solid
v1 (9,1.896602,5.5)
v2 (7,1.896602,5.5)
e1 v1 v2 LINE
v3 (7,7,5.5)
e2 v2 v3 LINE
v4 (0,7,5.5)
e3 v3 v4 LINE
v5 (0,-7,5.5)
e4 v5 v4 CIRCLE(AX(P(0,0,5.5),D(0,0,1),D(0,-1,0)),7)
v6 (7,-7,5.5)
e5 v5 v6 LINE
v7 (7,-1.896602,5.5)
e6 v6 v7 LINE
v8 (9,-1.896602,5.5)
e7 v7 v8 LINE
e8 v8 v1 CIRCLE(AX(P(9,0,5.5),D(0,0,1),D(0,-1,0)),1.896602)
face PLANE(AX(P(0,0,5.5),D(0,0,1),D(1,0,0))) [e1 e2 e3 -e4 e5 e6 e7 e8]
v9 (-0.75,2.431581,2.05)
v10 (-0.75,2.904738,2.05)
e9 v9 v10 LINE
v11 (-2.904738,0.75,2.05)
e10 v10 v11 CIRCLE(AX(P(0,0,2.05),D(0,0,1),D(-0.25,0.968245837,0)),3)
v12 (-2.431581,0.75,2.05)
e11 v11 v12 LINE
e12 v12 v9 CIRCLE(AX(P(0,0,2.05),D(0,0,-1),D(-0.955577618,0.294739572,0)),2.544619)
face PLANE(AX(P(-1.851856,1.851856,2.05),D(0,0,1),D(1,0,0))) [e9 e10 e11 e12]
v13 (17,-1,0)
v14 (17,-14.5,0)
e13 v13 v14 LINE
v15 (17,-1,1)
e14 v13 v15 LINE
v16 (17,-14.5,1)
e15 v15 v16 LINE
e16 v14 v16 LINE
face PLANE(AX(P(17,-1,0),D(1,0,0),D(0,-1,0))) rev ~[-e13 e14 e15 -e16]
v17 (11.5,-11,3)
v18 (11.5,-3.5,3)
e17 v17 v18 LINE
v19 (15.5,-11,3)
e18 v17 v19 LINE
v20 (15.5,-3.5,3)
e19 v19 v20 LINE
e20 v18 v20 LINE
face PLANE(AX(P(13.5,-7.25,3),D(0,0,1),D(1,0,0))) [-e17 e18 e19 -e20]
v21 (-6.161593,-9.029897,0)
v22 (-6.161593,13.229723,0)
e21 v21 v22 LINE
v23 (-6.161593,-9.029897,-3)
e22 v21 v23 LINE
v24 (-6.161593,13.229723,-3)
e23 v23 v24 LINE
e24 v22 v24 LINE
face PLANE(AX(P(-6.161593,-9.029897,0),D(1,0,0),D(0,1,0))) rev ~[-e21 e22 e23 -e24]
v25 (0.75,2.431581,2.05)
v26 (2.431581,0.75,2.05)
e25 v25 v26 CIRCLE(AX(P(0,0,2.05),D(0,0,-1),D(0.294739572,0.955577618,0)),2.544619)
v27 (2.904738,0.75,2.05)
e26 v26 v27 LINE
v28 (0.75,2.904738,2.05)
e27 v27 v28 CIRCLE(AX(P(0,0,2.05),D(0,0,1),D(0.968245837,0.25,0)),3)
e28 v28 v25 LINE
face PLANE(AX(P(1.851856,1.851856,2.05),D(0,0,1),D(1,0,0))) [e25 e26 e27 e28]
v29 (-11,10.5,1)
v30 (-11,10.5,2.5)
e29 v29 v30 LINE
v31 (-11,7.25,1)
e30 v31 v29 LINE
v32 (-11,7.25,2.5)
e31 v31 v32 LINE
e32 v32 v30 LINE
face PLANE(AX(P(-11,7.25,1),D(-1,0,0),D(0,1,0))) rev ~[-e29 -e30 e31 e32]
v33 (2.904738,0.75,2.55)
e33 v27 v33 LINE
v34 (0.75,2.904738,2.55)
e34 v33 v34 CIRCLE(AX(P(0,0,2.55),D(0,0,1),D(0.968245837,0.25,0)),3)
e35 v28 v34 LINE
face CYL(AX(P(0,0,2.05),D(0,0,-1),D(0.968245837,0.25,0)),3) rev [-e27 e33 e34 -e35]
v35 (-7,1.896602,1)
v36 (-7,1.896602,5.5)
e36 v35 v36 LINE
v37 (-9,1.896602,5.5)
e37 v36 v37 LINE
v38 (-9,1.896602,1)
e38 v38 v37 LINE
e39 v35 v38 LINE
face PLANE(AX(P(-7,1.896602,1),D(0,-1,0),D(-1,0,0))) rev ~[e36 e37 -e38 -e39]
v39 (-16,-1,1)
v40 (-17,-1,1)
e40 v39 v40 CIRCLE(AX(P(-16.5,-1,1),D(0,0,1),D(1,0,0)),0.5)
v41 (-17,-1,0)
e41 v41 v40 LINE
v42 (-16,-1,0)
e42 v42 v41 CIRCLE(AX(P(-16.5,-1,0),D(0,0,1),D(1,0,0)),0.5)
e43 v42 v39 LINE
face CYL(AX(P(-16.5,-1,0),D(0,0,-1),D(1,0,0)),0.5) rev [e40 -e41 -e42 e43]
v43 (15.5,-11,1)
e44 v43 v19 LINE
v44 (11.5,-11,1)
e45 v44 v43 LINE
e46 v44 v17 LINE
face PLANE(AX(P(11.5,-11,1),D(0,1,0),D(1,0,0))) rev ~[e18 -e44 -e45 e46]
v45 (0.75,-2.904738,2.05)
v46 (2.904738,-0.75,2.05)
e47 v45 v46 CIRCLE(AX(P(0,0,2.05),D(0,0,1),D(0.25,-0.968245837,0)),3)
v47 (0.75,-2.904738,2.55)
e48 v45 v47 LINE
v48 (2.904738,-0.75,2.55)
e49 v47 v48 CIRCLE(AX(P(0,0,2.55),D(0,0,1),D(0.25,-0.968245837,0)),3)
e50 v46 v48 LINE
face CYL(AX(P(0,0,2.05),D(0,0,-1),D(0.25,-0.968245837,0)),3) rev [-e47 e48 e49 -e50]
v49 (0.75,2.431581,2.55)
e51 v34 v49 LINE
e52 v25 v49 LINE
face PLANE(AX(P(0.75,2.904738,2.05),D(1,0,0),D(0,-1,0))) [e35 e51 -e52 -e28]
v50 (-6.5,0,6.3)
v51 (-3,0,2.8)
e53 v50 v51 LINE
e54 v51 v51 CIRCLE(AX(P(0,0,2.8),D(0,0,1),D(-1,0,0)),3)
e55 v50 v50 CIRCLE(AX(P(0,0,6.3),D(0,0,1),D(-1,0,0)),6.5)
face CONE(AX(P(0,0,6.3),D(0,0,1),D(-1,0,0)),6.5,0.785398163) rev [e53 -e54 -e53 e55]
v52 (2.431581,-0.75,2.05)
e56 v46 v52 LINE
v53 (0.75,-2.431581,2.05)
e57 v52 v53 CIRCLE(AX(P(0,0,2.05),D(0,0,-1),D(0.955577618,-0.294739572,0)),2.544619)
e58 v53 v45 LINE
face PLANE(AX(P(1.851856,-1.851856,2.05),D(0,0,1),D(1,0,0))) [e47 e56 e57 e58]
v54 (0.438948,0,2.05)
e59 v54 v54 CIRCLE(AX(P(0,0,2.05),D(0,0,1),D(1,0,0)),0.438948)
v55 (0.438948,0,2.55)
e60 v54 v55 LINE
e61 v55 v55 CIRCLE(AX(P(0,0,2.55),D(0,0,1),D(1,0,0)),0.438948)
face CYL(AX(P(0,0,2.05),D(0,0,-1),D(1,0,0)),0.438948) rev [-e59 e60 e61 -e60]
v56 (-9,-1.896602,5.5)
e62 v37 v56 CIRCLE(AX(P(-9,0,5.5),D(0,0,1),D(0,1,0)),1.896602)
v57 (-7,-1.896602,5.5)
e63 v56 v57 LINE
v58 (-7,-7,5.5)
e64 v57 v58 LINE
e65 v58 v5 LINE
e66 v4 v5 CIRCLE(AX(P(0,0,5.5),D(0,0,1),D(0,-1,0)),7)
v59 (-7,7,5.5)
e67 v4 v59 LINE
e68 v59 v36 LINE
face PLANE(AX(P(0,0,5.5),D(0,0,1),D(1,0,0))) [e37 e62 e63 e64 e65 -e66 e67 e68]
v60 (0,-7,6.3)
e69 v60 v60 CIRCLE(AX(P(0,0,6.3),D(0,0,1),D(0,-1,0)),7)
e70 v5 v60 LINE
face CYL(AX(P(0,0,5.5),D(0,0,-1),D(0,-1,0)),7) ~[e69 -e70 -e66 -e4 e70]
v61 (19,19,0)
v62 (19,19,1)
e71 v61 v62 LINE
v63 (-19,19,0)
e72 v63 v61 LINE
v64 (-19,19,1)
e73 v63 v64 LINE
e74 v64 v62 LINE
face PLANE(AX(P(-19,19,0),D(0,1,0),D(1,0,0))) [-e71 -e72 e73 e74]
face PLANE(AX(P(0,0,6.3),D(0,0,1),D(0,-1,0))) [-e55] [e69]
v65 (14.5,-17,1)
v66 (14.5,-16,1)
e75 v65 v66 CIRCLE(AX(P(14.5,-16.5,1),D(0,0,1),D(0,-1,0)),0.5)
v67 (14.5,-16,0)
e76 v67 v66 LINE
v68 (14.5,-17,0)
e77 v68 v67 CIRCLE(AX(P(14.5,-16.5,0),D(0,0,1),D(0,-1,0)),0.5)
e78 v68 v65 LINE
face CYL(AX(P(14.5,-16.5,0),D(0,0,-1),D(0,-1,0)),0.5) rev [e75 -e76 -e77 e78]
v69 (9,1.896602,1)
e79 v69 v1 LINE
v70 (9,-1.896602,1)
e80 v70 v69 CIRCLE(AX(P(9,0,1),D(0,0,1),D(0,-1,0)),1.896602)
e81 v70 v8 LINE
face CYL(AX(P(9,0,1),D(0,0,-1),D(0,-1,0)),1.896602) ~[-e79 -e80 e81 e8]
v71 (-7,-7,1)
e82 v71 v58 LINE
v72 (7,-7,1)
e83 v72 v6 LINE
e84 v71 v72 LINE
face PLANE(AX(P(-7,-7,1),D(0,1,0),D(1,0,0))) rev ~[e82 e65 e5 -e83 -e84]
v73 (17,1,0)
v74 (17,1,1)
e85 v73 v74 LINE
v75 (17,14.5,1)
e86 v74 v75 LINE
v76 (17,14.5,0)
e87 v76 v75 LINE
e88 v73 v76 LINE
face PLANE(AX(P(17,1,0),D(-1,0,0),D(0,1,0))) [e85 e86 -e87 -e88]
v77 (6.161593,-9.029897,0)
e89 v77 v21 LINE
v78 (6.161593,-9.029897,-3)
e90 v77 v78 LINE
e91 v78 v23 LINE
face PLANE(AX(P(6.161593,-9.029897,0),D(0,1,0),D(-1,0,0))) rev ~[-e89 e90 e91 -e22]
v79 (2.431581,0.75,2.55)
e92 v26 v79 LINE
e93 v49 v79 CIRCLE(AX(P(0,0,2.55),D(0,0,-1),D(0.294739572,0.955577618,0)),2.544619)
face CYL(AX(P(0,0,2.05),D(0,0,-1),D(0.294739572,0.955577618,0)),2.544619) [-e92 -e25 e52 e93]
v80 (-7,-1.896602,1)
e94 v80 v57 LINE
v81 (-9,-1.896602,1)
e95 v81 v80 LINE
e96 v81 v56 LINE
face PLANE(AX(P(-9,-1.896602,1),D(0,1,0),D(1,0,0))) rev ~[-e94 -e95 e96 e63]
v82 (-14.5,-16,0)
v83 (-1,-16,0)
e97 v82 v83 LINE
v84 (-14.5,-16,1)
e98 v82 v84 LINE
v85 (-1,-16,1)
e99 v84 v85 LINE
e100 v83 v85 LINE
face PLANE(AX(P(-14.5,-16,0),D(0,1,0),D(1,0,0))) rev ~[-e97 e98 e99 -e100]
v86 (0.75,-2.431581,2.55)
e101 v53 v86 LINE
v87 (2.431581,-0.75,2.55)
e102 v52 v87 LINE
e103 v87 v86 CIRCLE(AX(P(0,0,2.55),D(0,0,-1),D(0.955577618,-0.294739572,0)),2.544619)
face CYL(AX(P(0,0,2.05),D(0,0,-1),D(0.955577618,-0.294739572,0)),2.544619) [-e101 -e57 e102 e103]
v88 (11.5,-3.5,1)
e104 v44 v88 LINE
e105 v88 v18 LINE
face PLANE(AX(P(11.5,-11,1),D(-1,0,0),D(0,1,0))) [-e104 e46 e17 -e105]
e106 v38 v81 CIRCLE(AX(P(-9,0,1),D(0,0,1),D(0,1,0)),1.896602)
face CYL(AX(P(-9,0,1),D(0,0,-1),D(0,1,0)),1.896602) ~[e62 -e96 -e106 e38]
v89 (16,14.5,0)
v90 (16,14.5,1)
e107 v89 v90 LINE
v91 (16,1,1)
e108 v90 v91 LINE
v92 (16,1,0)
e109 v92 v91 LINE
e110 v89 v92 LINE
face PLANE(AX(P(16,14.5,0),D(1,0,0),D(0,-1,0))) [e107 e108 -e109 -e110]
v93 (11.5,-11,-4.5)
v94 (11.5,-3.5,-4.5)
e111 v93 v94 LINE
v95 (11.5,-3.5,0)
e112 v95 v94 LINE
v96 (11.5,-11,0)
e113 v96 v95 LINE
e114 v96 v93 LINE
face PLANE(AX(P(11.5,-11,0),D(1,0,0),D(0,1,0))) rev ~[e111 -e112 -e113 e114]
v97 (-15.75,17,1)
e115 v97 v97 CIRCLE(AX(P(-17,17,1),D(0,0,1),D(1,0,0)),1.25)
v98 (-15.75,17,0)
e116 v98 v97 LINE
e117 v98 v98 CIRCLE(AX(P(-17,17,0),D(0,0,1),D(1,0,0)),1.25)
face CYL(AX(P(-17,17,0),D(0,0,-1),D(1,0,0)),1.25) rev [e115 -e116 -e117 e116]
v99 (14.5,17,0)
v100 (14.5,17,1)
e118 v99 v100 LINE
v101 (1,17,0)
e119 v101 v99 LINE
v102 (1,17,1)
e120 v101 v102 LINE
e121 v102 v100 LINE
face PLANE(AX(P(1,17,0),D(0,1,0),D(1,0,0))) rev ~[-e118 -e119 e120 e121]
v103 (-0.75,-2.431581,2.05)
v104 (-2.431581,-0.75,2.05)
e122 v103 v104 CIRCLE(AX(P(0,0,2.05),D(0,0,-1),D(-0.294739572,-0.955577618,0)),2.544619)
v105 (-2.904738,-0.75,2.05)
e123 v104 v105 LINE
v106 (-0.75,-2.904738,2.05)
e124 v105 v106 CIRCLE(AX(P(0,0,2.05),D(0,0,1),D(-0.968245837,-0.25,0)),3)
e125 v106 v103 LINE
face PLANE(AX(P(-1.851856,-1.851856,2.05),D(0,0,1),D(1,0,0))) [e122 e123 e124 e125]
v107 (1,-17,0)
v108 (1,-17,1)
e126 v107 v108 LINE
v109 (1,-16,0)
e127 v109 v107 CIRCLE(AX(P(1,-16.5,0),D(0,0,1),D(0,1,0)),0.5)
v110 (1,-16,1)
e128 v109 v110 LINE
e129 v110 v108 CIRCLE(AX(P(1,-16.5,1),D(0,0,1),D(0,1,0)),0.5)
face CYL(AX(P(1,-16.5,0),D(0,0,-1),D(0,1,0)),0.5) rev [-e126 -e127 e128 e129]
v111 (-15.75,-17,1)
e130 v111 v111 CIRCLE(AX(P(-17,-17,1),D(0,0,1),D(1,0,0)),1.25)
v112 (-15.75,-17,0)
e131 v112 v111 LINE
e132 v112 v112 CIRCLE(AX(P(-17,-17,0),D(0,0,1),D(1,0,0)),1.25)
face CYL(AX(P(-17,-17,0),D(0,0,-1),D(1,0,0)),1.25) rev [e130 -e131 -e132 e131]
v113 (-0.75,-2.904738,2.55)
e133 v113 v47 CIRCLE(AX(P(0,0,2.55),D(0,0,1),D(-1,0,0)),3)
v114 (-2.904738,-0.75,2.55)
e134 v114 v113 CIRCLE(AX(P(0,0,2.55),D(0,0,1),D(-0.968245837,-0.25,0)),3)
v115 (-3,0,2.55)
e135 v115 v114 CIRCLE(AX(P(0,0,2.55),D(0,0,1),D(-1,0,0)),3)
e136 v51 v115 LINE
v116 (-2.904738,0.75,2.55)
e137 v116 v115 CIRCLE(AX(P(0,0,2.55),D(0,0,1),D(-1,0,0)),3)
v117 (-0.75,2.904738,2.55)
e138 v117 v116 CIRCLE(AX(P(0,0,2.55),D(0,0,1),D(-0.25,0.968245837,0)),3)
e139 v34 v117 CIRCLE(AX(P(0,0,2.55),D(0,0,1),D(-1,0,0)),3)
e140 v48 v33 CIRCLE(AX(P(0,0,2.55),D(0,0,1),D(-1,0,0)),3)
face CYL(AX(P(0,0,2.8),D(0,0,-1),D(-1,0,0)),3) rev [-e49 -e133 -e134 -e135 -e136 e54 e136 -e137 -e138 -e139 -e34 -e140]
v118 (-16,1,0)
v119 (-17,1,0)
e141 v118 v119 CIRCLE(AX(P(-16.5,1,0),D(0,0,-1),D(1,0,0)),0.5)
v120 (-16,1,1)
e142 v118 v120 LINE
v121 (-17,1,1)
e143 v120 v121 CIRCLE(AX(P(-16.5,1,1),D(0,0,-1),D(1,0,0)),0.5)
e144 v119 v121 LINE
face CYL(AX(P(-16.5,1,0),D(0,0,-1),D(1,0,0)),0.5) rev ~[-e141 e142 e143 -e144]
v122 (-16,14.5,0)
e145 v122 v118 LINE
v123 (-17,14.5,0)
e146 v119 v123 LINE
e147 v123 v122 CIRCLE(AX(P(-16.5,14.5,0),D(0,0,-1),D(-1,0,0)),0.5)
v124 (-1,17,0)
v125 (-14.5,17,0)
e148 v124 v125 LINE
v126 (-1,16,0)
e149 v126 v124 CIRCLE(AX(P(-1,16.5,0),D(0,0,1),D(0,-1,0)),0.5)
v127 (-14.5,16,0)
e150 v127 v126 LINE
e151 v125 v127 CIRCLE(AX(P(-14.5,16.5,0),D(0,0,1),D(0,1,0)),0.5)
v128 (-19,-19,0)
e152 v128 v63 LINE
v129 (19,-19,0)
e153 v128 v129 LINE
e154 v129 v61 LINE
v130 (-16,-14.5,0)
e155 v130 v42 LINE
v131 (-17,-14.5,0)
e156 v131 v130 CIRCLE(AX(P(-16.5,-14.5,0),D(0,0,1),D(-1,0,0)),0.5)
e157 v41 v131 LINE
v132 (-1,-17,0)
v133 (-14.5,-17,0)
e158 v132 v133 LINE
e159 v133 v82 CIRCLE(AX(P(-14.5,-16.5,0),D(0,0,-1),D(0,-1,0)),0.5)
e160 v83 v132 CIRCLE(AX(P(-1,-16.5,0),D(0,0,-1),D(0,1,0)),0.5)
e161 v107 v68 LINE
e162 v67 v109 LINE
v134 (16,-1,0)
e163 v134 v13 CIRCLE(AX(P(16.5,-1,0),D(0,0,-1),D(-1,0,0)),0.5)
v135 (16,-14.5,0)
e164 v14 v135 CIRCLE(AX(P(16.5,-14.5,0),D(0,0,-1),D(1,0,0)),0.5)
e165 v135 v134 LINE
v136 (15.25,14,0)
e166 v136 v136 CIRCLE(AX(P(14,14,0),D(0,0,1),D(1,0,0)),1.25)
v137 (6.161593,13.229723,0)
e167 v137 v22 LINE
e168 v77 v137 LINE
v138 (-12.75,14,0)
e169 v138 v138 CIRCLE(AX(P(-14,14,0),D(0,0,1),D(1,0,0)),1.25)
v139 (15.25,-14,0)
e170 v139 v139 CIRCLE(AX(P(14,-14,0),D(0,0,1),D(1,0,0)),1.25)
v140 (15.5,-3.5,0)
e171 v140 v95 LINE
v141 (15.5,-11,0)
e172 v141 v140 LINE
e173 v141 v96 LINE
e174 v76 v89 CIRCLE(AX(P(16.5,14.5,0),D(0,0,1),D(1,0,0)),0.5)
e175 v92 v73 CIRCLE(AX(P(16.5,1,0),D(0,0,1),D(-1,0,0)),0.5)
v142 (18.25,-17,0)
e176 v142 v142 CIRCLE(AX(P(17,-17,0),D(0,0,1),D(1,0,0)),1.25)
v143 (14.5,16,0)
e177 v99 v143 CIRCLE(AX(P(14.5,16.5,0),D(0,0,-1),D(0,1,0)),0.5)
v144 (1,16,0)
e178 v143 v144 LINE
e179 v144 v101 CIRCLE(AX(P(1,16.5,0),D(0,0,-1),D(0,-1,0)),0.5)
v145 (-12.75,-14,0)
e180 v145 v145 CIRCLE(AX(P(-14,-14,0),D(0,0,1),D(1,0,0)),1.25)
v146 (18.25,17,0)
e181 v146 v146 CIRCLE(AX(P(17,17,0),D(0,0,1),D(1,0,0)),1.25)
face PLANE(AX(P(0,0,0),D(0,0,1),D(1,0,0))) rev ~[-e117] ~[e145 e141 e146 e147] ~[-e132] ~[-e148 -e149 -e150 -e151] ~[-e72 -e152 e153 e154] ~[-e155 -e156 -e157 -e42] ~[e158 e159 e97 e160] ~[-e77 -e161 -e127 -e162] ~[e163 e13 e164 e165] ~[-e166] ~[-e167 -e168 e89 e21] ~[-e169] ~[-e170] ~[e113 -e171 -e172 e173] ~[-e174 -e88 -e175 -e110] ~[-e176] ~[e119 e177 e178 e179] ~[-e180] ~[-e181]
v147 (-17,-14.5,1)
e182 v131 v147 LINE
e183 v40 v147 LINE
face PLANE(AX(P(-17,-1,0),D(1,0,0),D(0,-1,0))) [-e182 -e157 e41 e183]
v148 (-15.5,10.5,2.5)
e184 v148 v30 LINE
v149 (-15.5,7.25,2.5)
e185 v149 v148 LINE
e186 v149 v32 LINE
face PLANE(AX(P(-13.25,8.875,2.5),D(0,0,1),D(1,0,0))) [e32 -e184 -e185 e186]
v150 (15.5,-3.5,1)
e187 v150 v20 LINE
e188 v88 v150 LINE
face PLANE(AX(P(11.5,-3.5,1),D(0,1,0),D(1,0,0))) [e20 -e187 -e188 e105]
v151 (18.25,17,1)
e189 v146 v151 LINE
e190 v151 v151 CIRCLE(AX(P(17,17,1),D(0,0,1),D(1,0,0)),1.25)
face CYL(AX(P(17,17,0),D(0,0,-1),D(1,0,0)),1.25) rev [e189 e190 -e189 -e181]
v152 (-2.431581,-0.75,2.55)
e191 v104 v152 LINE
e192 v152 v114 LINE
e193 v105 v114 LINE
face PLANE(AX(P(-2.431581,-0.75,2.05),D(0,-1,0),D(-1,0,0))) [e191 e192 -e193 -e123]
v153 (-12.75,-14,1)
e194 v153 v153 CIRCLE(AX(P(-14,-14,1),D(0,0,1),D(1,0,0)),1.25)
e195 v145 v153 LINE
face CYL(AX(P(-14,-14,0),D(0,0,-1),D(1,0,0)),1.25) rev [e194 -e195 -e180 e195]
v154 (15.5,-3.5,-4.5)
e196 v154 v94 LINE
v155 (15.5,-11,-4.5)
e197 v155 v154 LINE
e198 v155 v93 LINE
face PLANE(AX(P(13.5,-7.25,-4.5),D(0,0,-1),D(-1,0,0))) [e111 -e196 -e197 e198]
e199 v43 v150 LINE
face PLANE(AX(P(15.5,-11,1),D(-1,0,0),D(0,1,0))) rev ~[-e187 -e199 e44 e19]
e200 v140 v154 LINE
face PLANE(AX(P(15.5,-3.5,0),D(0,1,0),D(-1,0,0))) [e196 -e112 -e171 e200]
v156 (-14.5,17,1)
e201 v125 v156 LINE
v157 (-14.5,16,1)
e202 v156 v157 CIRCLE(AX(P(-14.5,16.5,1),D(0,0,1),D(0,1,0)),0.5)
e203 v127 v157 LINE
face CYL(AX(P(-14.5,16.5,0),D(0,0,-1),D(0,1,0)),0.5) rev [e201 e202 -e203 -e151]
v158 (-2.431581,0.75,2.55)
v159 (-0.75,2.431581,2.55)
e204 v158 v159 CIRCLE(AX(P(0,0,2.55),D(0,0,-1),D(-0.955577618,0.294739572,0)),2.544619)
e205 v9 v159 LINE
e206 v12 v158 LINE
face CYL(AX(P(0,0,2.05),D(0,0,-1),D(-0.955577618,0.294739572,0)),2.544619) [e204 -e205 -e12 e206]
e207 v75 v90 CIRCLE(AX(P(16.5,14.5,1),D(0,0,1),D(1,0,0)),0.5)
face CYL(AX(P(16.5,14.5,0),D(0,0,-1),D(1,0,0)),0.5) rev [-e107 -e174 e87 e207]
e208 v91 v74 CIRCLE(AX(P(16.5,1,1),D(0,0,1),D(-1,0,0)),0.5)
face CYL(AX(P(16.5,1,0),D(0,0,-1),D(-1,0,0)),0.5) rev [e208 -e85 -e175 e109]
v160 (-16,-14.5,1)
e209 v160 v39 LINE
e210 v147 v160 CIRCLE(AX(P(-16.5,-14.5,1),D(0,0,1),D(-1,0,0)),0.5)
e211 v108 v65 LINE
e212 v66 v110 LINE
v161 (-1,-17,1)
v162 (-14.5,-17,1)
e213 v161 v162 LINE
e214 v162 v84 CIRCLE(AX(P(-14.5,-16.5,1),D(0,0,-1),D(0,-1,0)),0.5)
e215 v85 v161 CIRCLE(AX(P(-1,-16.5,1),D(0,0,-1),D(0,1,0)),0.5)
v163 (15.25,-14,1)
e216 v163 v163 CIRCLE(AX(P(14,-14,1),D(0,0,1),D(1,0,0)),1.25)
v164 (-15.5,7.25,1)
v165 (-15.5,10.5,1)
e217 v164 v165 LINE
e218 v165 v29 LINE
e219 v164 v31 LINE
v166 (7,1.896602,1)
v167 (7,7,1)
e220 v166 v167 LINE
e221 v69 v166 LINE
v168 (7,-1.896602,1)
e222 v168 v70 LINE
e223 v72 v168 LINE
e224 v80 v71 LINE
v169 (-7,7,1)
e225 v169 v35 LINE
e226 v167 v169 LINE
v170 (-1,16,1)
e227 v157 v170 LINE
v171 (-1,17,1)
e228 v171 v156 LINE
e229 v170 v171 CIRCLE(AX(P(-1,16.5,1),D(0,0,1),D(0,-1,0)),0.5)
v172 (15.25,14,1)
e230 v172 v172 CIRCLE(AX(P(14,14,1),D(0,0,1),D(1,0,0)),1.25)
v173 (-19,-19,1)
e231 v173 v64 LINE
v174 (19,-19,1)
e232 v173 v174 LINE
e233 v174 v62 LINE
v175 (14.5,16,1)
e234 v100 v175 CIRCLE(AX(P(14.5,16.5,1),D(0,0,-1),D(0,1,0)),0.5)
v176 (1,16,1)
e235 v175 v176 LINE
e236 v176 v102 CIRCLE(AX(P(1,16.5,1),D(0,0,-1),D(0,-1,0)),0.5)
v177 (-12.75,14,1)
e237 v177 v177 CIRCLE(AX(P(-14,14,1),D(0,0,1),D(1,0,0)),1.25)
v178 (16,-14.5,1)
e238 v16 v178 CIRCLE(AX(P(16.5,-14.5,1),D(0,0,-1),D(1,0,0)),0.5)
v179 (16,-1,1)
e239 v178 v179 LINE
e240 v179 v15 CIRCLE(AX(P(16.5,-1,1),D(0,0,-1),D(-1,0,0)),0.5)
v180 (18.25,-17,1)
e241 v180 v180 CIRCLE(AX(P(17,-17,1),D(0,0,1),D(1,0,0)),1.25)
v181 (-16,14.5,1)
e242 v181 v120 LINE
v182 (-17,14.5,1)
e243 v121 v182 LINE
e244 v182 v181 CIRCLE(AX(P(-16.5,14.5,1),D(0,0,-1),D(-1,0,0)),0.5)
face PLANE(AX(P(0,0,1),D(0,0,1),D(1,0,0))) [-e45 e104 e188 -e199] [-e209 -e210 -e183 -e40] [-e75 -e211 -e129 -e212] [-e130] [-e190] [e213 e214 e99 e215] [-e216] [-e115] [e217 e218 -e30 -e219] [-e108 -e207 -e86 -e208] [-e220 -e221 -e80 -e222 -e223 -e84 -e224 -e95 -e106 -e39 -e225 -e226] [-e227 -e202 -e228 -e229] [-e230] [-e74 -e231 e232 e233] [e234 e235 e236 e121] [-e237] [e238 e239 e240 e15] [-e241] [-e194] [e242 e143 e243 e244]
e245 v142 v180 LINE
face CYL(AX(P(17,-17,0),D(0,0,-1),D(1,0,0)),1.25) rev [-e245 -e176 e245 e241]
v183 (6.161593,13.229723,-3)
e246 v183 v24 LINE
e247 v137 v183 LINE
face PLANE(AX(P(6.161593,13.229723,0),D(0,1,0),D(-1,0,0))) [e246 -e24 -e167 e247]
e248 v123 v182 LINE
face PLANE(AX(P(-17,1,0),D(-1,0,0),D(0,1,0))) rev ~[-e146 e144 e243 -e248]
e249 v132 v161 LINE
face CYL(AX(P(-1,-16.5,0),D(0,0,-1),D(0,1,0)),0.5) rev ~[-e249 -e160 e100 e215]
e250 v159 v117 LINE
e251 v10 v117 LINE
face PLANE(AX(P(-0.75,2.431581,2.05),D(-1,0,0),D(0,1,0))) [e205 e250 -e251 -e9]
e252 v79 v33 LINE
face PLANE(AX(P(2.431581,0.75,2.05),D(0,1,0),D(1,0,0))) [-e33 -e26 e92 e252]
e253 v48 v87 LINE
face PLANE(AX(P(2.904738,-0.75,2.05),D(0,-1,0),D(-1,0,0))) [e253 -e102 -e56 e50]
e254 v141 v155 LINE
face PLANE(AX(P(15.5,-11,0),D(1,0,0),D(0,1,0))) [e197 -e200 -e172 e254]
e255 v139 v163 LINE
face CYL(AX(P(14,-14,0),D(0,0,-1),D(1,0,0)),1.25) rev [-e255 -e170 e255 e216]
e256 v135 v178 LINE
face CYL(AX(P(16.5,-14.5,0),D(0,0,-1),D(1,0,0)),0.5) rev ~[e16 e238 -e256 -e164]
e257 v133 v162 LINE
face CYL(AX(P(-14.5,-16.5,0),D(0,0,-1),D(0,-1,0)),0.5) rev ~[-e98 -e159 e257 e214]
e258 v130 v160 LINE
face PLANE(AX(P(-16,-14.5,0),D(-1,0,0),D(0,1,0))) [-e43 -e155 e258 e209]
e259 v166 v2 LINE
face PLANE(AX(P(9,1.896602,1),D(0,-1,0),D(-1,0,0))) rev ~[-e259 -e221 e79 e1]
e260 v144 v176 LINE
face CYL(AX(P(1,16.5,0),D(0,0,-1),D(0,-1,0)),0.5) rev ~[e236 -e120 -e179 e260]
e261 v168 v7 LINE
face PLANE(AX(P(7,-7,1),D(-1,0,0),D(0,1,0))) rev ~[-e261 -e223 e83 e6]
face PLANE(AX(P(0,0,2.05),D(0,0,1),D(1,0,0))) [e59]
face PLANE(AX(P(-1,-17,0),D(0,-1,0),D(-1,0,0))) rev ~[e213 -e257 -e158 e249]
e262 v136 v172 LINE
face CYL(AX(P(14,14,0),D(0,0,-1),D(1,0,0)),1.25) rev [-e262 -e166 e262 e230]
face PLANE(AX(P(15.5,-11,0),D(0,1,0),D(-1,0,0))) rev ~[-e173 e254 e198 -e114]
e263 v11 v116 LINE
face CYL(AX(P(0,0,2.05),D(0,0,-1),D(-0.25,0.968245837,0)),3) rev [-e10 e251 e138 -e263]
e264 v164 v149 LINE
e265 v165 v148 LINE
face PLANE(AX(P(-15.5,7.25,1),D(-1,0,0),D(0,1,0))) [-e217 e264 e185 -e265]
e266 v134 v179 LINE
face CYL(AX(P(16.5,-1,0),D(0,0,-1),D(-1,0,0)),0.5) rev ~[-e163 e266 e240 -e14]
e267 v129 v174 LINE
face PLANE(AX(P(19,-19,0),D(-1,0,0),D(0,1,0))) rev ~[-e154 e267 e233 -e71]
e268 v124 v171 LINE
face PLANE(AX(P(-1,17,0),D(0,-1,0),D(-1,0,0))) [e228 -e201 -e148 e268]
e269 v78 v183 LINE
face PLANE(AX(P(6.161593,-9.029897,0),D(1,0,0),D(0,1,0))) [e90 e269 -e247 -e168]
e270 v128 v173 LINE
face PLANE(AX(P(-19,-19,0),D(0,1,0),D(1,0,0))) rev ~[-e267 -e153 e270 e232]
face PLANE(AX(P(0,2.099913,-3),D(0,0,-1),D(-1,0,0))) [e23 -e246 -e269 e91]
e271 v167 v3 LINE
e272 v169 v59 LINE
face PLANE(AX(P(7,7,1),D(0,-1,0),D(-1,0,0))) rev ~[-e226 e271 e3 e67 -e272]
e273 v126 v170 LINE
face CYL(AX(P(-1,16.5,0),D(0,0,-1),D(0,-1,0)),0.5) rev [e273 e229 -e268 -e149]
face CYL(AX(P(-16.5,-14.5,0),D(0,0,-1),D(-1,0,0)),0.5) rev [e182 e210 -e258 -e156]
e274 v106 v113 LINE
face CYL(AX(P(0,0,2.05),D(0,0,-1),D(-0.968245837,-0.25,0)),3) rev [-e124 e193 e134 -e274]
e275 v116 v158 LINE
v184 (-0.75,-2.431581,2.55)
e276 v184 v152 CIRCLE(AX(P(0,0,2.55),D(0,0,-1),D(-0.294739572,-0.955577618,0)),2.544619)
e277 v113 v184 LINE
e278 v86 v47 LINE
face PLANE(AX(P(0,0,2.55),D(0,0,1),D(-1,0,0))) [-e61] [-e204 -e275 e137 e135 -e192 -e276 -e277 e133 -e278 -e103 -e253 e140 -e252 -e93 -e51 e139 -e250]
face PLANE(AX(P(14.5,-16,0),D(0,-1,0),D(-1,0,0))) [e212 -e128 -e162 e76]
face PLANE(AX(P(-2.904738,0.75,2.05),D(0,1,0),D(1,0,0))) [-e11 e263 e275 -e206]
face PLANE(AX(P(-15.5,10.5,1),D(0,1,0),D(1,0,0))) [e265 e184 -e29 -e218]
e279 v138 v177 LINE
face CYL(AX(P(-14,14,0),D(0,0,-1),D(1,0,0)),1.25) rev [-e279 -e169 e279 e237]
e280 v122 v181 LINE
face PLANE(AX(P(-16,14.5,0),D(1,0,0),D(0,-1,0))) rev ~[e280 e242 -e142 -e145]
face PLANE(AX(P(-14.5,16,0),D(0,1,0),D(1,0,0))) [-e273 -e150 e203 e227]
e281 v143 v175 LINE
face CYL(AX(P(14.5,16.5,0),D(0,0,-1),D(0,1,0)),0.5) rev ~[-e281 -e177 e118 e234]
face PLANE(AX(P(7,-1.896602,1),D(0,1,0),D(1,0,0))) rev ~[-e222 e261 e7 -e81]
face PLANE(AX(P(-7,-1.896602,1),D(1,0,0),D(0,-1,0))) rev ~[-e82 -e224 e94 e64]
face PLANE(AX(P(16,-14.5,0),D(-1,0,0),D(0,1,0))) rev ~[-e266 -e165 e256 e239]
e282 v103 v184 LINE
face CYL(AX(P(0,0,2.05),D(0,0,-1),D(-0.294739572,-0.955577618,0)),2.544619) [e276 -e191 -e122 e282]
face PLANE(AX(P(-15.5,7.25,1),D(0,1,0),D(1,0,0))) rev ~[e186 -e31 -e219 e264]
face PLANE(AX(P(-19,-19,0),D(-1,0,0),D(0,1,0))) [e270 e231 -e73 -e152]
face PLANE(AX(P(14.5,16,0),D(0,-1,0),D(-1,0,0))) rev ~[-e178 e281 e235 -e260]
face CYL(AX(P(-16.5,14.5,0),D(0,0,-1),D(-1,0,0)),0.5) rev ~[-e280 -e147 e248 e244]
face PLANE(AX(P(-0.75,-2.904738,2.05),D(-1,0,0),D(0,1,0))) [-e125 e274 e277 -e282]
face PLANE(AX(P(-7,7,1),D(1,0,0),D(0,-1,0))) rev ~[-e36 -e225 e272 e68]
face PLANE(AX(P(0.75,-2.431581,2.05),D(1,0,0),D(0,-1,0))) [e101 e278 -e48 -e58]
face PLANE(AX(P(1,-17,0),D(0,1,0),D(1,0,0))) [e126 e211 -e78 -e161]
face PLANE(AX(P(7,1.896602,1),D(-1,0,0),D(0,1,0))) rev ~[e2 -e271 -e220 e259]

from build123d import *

# Parameters (mm, degrees)
SKETCH_1_W          = 38
SKETCH_1_H          = 38
SKETCH_1_R          = 1.25
EXTRUDE_1_DEPTH     = 1
EXTRUDE_2_DEPTH     = 4.5
SKETCH_3_R          = 7
EXTRUDE_3_DEPTH     = 0.8
CUT_EXTRUDE_START   = -0.5
SKETCH_5_R          = 0.438948094
CUT_EXTRUDE_1_DEPTH = 0.5
SKETCH_6_W          = 12.323185316
SKETCH_6_H          = 22.259619553
EXTRUDE_4_DEPTH     = 3
SKETCH_7_W          = 4
SKETCH_7_H          = 7.5
EXTRUDE_5_DEPTH     = 4.5
SKETCH_9_W          = 4.5
SKETCH_9_H          = 3.25
EXTRUDE_6_DEPTH     = 1.5
SKETCH_10_W         = 4
SKETCH_10_H         = 7.5
EXTRUDE_7_DEPTH     = 2


with BuildPart() as part:
    # ｽｹｯﾁ1 → ﾎﾞｽ - 押し出し1 (new body)
    with BuildSketch(Plane.XY):
        Rectangle(SKETCH_1_W, SKETCH_1_H)
        with Locations((17, 17)):
            Circle(SKETCH_1_R, mode=Mode.SUBTRACT)
        with Locations((14, 14)):
            Circle(SKETCH_1_R, mode=Mode.SUBTRACT)
        with Locations((17, -17)):
            Circle(SKETCH_1_R, mode=Mode.SUBTRACT)
        with Locations((14, -14)):
            Circle(SKETCH_1_R, mode=Mode.SUBTRACT)
        with Locations((-17, -17)):
            Circle(SKETCH_1_R, mode=Mode.SUBTRACT)
        with Locations((-14, -14)):
            Circle(SKETCH_1_R, mode=Mode.SUBTRACT)
        with Locations((-17, 17)):
            Circle(SKETCH_1_R, mode=Mode.SUBTRACT)
        with Locations((-14, 14)):
            Circle(SKETCH_1_R, mode=Mode.SUBTRACT)
        with BuildLine():
            Line((1, 17), (14.5, 17))
            ThreePointArc((14.5, 17), (15, 16.5), (14.5, 16))
            Line((14.5, 16), (1, 16))
            ThreePointArc((1, 16), (0.5, 16.5), (1, 17))
        make_face(mode=Mode.SUBTRACT)
        with BuildLine():
            Line((-1, 17), (-14.5, 17))
            ThreePointArc((-14.5, 17), (-15, 16.5), (-14.5, 16))
            Line((-14.5, 16), (-1, 16))
            ThreePointArc((-1, 16), (-0.5, 16.5), (-1, 17))
        make_face(mode=Mode.SUBTRACT)
        with BuildLine():
            Line((17, -1), (17, -14.5))
            ThreePointArc((17, -14.5), (16.5, -15), (16, -14.5))
            Line((16, -14.5), (16, -1))
            ThreePointArc((16, -1), (16.5, -0.5), (17, -1))
        make_face(mode=Mode.SUBTRACT)
        with BuildLine():
            Line((17, 1), (17, 14.5))
            ThreePointArc((17, 14.5), (16.5, 15), (16, 14.5))
            Line((16, 14.5), (16, 1))
            ThreePointArc((16, 1), (16.5, 0.5), (17, 1))
        make_face(mode=Mode.SUBTRACT)
        with BuildLine():
            Line((-1, -17), (-14.5, -17))
            ThreePointArc((-14.5, -17), (-15, -16.5), (-14.5, -16))
            Line((-14.5, -16), (-1, -16))
            ThreePointArc((-1, -16), (-0.5, -16.5), (-1, -17))
        make_face(mode=Mode.SUBTRACT)
        with BuildLine():
            Line((1, -17), (14.5, -17))
            ThreePointArc((14.5, -17), (15, -16.5), (14.5, -16))
            Line((14.5, -16), (1, -16))
            ThreePointArc((1, -16), (0.5, -16.5), (1, -17))
        make_face(mode=Mode.SUBTRACT)
        with BuildLine():
            Line((-17, 1), (-17, 14.5))
            ThreePointArc((-17, 14.5), (-16.5, 15), (-16, 14.5))
            Line((-16, 14.5), (-16, 1))
            ThreePointArc((-16, 1), (-16.5, 0.5), (-17, 1))
        make_face(mode=Mode.SUBTRACT)
        with BuildLine():
            Line((-17, -1), (-17, -14.5))
            ThreePointArc((-17, -14.5), (-16.5, -15), (-16, -14.5))
            Line((-16, -14.5), (-16, -1))
            ThreePointArc((-16, -1), (-16.5, -0.5), (-17, -1))
        make_face(mode=Mode.SUBTRACT)
    extrude(amount=EXTRUDE_1_DEPTH)

    # ｽｹｯﾁ2 → ﾎﾞｽ - 押し出し2 (add)
    with BuildSketch(Plane.XY.offset(1)):
        with BuildLine():
            Line((-7, -7), (7, -7))
            Line((7, -7), (7, -1.896601527))
            Line((7, -1.896601527), (9, -1.896601527))
            ThreePointArc((9, -1.896601527), (10.896601527, 0), (9, 1.896601527))
            Line((9, 1.896601527), (7, 1.896601527))
            Line((7, 1.896601527), (7, 7))
            Line((7, 7), (-7, 7))
            Line((-7, 7), (-7, 1.896601527))
            Line((-7, 1.896601527), (-9, 1.896601527))
            ThreePointArc((-9, 1.896601527), (-10.896601527, 0), (-9, -1.896601527))
            Line((-9, -1.896601527), (-7, -1.896601527))
            Line((-7, -1.896601527), (-7, -7))
        make_face()
    extrude(amount=EXTRUDE_2_DEPTH)

    # ｽｹｯﾁ3 → ﾎﾞｽ - 押し出し3 (add)
    with BuildSketch(Plane.XY.offset(5.5)):
        with Locations(Location((0, 0, 0), (0, 0, 270))):
            Circle(SKETCH_3_R)
    extrude(amount=EXTRUDE_3_DEPTH)

    # ｽｹｯﾁ4 → ｶｯﾄ - 回転1 (revolve, cut)
    with BuildSketch(Plane(origin=(0, 0, 0), x_dir=(1, 0, 0), z_dir=(0, 1, 0))):
        Polygon((-6.5, -6.3), (-3, -2.8), (-3, -2.55), (0, -2.55), (0, -6.3), align=None)
    revolve(axis=Axis((0, 0, 0), (0, 0, 1)), mode=Mode.SUBTRACT)

    # ｽｹｯﾁ5 → ｶｯﾄ - 押し出し1 (cut)
    with BuildSketch(Plane.XY.offset(2.55).offset(CUT_EXTRUDE_START)):
        Circle(SKETCH_5_R)
        with BuildLine():
            Line((0.75, 2.90473751), (0.75, 2.431581232))
            ThreePointArc((0.75, 2.431581232), (1.79931755, 1.79931755), (2.431581232, 0.75))
            Line((2.431581232, 0.75), (2.90473751, 0.75))
            ThreePointArc((2.90473751, 0.75), (2.121320344, 2.121320344), (0.75, 2.90473751))
        make_face()
        with BuildLine():
            Line((2.90473751, -0.75), (2.431581232, -0.75))
            ThreePointArc((2.431581232, -0.75), (1.79931755, -1.79931755), (0.75, -2.431581232))
            Line((0.75, -2.431581232), (0.75, -2.90473751))
            ThreePointArc((0.75, -2.90473751), (2.121320344, -2.121320344), (2.90473751, -0.75))
        make_face()
        with BuildLine():
            Line((-0.75, -2.90473751), (-0.75, -2.431581232))
            ThreePointArc((-0.75, -2.431581232), (-1.79931755, -1.79931755), (-2.431581232, -0.75))
            Line((-2.431581232, -0.75), (-2.90473751, -0.75))
            ThreePointArc((-2.90473751, -0.75), (-2.121320344, -2.121320344), (-0.75, -2.90473751))
        make_face()
        with BuildLine():
            Line((-2.90473751, 0.75), (-2.431581232, 0.75))
            ThreePointArc((-2.431581232, 0.75), (-1.79931755, 1.79931755), (-0.75, 2.431581232))
            Line((-0.75, 2.431581232), (-0.75, 2.90473751))
            ThreePointArc((-0.75, 2.90473751), (-2.121320344, 2.121320344), (-2.90473751, 0.75))
        make_face()
    extrude(amount=CUT_EXTRUDE_1_DEPTH, mode=Mode.SUBTRACT)

    # ｽｹｯﾁ6 → ﾎﾞｽ - 押し出し4 (add)
    with BuildSketch(Plane(origin=(0, 0, 0), x_dir=(-1, 0, 0), z_dir=(0, 0, -1))):
        with Locations((0, 2.099913023)):
            Rectangle(SKETCH_6_W, SKETCH_6_H)
    extrude(amount=EXTRUDE_4_DEPTH)

    # ｽｹｯﾁ7 → ﾎﾞｽ - 押し出し5 (add)
    with BuildSketch(Plane(origin=(0, 0, 0), x_dir=(-1, 0, 0), z_dir=(0, 0, -1))):
        with Locations((-13.5, -7.25)):
            Rectangle(SKETCH_7_W, SKETCH_7_H)
    extrude(amount=EXTRUDE_5_DEPTH)

    # ｽｹｯﾁ9 → ﾎﾞｽ - 押し出し6 (add)
    with BuildSketch(Plane.XY.offset(1)):
        with Locations((-13.25, 8.875)):
            Rectangle(SKETCH_9_W, SKETCH_9_H)
    extrude(amount=EXTRUDE_6_DEPTH)

    # ｽｹｯﾁ10 → ﾎﾞｽ - 押し出し7 (add)
    with BuildSketch(Plane.XY.offset(1)):
        with Locations((13.5, -7.25)):
            Rectangle(SKETCH_10_W, SKETCH_10_H)
    extrude(amount=EXTRUDE_7_DEPTH)


solid = part.part
